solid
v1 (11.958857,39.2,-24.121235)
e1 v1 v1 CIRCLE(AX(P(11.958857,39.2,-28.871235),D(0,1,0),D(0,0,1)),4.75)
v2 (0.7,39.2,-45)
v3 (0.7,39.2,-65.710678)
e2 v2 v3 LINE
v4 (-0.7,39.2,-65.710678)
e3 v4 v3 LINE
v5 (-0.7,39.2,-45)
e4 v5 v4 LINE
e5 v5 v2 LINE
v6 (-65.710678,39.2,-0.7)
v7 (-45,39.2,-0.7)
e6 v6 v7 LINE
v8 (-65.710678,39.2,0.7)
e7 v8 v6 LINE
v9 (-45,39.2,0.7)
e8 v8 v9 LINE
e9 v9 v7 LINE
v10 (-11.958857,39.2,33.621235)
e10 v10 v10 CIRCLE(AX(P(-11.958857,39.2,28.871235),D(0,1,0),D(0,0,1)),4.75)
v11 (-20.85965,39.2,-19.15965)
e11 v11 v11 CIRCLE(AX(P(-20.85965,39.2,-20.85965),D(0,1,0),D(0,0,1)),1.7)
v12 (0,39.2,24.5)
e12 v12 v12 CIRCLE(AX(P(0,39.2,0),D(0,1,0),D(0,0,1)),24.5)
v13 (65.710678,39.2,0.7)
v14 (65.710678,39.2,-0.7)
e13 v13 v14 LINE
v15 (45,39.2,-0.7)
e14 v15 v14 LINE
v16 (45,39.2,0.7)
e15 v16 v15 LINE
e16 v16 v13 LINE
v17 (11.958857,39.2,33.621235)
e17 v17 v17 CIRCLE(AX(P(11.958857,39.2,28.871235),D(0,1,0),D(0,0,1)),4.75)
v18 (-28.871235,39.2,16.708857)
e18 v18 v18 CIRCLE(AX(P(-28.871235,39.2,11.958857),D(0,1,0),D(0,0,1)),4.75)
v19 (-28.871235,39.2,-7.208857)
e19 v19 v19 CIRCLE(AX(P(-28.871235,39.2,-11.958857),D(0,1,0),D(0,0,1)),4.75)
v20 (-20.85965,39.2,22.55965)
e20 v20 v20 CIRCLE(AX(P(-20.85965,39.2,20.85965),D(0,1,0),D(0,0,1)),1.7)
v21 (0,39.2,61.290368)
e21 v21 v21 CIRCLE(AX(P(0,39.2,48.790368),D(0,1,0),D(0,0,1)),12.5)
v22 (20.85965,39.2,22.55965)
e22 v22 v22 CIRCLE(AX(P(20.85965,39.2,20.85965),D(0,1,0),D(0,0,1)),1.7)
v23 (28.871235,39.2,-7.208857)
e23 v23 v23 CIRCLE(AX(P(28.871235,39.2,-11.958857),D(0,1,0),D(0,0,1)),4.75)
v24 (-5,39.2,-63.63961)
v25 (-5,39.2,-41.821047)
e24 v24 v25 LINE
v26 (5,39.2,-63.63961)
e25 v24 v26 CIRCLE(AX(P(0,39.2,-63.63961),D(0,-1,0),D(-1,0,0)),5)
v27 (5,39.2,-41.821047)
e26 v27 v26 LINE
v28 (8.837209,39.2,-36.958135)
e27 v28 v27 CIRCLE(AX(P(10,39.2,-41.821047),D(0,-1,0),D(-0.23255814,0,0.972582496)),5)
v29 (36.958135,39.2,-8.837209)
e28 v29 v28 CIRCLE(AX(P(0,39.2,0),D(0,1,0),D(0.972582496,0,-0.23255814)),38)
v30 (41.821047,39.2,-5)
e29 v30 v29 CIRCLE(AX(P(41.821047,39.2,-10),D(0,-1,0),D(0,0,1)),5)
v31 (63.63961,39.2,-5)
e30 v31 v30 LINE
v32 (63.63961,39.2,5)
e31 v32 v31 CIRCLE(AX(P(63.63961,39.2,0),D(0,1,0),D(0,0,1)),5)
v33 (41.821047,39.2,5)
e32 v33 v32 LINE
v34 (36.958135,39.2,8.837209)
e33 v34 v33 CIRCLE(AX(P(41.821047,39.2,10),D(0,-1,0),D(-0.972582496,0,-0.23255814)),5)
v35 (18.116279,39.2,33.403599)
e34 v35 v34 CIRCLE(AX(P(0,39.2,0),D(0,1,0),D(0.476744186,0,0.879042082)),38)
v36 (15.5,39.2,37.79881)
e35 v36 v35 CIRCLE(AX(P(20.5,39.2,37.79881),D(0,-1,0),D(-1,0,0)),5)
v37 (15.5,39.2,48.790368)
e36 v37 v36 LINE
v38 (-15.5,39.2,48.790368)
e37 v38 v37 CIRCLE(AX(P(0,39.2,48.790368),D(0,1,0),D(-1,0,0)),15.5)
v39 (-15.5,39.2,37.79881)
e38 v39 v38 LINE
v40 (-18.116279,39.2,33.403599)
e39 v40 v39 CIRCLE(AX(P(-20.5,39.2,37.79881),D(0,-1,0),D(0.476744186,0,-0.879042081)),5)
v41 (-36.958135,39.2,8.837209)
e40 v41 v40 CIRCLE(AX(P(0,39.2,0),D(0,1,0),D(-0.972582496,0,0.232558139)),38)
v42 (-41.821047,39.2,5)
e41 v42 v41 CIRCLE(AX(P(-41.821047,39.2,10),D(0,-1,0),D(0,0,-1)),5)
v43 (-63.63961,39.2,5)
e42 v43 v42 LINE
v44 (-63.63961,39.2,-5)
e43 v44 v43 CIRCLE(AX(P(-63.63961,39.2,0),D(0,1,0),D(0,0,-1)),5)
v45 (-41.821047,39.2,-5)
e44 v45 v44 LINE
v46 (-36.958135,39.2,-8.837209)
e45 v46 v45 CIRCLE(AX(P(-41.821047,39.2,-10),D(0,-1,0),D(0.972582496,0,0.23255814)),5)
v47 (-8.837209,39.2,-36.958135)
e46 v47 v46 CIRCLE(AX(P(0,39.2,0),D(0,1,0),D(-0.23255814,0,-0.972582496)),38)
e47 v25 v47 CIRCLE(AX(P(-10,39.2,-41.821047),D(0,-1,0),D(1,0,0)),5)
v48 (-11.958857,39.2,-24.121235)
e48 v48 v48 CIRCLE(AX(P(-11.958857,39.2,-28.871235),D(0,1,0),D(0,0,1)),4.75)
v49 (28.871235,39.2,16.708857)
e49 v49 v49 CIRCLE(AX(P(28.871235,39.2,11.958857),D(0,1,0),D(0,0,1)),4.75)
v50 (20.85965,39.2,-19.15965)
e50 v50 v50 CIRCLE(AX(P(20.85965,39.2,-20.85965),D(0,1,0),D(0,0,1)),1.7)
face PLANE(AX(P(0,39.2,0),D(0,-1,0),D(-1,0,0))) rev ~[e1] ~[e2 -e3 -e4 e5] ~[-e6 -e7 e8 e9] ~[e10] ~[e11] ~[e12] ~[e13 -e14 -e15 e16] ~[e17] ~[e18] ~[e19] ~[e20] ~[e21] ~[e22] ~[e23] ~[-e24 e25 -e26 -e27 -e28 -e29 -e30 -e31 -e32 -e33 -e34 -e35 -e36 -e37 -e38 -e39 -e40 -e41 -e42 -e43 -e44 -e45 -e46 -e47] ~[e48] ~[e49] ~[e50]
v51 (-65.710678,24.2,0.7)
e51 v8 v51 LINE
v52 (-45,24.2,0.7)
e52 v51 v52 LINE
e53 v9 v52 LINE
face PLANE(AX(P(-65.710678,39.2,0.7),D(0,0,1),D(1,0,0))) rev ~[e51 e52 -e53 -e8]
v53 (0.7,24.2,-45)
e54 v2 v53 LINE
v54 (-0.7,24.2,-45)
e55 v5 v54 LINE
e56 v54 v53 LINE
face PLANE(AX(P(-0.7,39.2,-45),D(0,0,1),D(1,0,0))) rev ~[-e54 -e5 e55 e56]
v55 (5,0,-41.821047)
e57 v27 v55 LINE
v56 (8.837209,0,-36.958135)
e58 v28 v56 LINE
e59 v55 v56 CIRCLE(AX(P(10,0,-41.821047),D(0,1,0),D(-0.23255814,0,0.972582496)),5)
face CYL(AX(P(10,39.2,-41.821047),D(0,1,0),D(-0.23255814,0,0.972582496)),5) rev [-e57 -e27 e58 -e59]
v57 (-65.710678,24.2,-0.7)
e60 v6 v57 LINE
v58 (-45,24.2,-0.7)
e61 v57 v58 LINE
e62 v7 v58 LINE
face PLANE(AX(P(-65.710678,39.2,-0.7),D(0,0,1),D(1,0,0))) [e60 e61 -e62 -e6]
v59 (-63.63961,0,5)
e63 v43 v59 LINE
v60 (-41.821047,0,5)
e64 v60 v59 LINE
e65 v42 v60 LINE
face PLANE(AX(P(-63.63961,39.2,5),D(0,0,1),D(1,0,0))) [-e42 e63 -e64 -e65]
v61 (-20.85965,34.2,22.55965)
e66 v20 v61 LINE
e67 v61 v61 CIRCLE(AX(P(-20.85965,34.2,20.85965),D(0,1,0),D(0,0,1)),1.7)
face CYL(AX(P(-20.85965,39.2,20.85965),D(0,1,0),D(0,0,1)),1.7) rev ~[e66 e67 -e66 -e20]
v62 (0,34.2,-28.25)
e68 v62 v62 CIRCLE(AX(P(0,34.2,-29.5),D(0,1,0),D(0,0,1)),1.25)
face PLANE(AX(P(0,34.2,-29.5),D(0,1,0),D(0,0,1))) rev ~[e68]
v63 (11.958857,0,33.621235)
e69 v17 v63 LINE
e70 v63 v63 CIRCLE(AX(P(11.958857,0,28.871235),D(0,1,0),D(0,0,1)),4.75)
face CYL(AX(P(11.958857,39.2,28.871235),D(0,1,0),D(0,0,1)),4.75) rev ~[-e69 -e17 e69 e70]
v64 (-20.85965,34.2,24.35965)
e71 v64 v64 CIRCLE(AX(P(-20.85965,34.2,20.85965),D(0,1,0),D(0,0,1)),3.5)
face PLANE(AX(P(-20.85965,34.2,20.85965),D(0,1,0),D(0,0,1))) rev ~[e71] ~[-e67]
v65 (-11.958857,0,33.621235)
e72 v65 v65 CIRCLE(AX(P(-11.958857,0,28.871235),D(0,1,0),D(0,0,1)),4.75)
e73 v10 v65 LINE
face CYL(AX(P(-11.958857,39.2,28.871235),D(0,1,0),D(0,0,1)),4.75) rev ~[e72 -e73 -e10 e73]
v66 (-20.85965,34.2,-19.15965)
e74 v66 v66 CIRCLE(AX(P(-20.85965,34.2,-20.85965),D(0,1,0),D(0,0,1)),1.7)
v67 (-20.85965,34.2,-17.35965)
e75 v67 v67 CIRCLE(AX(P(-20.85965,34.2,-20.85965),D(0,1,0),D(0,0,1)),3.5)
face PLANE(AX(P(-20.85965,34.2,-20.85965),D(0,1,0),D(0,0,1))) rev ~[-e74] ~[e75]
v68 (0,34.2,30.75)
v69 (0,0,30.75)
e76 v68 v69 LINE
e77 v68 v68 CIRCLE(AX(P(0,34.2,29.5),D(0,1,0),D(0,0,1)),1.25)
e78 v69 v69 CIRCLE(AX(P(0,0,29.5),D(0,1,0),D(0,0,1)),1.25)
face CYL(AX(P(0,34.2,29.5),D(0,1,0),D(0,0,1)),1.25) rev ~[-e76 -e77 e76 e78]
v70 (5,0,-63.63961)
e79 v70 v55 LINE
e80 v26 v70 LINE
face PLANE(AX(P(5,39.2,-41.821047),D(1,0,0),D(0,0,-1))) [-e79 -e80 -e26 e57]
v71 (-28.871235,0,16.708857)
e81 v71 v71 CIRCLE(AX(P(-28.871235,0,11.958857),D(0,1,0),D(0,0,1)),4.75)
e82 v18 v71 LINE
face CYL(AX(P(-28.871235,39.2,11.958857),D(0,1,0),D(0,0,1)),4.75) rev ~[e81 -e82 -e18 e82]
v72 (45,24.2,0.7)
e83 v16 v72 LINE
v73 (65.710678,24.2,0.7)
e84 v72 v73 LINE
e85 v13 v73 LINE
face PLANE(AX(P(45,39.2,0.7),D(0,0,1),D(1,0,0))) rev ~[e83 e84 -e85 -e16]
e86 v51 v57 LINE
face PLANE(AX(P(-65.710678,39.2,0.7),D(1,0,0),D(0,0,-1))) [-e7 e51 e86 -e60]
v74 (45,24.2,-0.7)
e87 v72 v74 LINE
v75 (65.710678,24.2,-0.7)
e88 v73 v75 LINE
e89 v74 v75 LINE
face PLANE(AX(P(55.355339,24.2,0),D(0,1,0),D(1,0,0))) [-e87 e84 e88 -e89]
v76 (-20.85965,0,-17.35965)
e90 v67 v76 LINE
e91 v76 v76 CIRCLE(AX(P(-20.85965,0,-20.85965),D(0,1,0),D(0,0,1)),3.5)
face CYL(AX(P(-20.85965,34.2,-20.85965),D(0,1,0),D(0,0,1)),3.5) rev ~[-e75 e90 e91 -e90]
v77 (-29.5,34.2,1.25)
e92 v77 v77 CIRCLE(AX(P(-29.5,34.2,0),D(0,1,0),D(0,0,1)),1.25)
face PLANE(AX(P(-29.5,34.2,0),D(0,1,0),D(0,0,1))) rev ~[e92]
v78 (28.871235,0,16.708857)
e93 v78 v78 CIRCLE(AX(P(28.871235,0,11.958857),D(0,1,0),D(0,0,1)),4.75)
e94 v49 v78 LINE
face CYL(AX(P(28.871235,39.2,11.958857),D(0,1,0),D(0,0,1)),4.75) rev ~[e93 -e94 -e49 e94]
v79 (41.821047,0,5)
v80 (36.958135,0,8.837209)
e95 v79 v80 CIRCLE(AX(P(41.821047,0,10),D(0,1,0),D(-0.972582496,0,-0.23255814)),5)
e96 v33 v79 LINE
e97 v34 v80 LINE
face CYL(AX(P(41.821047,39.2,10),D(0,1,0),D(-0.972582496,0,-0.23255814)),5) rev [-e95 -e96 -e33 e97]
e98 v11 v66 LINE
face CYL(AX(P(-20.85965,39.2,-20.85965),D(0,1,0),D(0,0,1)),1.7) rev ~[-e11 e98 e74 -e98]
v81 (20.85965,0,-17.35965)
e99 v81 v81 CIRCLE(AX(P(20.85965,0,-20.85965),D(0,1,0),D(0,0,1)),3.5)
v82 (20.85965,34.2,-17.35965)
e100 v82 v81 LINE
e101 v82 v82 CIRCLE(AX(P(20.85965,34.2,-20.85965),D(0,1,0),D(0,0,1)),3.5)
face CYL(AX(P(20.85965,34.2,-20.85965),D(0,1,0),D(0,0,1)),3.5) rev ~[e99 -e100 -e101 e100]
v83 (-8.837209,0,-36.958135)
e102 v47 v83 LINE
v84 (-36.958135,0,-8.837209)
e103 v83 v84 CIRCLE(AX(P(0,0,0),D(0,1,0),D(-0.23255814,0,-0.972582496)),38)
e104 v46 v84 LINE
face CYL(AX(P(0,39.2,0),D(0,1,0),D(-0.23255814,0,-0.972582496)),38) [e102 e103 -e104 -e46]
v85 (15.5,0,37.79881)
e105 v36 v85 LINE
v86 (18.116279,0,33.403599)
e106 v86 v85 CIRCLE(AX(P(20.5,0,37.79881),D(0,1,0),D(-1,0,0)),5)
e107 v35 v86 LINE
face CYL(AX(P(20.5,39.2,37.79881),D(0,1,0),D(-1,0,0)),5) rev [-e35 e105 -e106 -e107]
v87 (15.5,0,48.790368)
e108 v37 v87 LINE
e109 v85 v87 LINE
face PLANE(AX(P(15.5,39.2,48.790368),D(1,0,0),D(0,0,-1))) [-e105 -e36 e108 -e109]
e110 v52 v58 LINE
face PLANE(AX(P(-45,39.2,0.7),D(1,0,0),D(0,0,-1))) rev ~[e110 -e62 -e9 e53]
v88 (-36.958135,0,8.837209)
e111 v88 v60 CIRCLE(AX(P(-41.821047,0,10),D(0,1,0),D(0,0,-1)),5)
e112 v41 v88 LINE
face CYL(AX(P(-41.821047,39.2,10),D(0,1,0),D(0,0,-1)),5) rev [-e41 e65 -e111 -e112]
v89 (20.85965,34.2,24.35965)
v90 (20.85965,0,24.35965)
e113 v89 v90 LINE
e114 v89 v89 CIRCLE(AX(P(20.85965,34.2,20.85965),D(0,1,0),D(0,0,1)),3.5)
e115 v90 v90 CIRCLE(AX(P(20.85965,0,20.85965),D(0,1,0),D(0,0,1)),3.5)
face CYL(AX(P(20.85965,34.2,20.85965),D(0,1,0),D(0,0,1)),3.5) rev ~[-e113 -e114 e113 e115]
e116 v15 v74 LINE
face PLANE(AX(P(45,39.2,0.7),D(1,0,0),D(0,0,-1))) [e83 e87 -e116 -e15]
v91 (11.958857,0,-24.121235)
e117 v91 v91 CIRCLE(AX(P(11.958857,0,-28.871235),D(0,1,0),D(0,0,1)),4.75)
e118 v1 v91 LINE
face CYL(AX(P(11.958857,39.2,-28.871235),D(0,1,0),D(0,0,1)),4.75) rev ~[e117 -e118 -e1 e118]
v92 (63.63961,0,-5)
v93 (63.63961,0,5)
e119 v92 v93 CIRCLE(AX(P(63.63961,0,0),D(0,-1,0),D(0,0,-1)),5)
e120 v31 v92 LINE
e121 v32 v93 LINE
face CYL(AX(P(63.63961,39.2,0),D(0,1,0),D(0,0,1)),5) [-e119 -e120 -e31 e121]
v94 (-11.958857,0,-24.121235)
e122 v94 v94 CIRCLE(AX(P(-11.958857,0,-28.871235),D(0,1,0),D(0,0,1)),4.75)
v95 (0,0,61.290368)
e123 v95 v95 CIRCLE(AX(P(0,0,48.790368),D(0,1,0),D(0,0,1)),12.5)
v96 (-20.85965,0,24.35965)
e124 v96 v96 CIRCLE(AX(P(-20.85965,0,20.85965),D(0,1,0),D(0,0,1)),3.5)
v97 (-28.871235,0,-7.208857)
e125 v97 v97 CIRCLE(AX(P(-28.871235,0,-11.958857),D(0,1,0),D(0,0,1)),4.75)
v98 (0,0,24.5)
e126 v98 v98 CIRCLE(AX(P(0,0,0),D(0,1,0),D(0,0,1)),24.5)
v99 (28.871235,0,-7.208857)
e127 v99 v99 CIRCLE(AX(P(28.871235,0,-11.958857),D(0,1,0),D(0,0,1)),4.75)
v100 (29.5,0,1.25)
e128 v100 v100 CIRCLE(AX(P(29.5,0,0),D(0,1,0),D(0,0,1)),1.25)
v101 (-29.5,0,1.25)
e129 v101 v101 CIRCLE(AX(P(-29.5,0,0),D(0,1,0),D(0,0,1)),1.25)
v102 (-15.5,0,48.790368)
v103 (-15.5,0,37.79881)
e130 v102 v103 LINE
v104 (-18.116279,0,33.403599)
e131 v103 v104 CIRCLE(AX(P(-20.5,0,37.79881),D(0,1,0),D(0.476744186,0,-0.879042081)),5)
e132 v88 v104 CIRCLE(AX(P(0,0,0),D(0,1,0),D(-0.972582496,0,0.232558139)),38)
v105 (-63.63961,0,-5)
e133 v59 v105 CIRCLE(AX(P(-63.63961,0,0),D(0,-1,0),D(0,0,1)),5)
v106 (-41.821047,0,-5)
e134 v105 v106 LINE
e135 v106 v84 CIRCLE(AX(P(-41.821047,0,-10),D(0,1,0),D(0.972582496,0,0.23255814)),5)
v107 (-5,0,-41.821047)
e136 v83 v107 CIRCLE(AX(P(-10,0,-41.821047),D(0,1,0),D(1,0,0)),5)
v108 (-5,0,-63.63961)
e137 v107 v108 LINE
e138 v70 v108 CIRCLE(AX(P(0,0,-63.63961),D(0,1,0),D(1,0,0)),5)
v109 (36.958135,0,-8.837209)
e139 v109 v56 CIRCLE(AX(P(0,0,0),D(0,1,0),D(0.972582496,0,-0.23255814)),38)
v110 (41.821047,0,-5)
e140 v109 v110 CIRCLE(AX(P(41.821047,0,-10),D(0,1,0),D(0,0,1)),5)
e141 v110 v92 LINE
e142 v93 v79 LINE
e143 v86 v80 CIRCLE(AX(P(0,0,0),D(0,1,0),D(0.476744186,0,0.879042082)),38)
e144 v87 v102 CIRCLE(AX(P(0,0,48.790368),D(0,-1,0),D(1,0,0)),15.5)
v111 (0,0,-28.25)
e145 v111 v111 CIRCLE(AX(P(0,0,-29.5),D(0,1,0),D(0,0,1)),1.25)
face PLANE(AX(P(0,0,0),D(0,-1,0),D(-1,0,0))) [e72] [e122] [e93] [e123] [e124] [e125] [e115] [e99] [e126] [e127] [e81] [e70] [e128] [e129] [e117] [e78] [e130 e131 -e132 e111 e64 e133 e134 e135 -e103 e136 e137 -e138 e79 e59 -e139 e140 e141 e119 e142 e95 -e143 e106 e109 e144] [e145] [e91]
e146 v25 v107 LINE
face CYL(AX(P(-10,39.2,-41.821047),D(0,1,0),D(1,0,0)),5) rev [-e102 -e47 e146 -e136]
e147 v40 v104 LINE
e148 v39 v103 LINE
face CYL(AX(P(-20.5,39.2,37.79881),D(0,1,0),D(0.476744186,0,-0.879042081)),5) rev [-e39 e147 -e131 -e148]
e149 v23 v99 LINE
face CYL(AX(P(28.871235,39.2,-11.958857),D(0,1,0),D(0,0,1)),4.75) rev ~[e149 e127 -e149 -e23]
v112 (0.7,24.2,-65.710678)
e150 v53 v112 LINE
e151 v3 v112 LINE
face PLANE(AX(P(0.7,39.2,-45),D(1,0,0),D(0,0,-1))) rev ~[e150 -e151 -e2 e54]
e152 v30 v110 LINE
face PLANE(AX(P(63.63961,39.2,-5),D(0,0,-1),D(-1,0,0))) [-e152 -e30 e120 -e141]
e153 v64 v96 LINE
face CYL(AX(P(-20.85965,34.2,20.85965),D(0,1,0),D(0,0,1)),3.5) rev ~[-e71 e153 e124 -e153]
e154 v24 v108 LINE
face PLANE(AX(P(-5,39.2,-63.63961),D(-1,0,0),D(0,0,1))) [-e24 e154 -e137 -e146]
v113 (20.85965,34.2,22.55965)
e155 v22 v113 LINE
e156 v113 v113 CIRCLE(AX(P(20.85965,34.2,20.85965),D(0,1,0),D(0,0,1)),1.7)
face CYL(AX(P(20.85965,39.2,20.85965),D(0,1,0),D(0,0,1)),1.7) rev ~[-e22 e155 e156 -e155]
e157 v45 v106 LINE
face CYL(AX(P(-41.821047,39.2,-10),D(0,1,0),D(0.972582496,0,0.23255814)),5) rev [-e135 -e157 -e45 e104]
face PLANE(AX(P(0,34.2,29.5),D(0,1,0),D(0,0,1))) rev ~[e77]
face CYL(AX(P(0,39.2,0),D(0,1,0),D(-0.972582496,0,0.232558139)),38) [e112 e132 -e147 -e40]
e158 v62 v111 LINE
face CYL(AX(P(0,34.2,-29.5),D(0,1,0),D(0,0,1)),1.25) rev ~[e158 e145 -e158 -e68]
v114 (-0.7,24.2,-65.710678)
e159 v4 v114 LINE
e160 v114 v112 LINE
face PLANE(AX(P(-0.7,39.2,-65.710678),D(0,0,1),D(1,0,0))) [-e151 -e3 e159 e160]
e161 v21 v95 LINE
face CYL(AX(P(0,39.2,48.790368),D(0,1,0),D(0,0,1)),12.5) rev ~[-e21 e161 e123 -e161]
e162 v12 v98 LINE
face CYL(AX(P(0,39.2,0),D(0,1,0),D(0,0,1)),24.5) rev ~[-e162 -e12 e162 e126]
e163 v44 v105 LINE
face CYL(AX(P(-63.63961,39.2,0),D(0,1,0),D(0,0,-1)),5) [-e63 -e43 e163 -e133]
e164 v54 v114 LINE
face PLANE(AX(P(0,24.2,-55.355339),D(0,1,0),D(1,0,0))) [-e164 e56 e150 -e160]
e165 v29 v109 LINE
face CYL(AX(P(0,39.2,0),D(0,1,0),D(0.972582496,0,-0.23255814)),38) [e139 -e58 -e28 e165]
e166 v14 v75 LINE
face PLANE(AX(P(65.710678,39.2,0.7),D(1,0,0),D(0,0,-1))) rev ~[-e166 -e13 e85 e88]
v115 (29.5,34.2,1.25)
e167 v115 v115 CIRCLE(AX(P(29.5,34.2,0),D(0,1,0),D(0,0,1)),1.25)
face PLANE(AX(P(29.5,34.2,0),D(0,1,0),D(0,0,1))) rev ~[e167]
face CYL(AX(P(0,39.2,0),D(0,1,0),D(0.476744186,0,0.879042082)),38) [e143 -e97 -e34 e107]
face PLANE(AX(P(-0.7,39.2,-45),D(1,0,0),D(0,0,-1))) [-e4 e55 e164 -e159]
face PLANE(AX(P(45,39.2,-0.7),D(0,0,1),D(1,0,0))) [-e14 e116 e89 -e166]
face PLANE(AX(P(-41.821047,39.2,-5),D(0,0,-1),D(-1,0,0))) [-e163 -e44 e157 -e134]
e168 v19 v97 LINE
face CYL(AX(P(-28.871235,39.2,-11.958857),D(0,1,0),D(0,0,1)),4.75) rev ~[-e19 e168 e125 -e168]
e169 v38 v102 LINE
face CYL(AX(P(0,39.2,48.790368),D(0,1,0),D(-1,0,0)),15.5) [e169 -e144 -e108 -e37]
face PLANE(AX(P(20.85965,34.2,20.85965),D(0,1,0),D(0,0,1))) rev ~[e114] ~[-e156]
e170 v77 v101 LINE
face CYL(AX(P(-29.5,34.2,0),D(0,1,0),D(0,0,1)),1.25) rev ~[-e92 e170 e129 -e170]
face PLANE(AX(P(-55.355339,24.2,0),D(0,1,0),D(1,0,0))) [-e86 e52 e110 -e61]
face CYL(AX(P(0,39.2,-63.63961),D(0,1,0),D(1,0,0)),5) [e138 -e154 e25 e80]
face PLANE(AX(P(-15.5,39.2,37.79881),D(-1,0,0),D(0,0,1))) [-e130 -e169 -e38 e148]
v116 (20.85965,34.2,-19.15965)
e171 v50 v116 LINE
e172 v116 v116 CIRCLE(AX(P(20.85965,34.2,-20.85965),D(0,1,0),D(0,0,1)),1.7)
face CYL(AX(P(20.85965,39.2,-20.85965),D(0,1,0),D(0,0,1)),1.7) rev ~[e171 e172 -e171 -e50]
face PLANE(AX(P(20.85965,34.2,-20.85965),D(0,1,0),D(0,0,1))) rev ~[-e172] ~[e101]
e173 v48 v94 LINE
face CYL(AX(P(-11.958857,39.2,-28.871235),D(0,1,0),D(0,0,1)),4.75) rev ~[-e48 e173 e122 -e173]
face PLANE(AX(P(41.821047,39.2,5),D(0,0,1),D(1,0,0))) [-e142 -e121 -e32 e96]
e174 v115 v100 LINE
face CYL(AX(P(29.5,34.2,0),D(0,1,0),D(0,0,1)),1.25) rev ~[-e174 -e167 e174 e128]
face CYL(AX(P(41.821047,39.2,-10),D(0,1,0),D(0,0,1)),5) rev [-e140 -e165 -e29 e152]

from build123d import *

# Parameters (mm, degrees)
BOSS_EXTRU_1_DEPTH      = 39.2
ESQUISSE2_W             = 20.710678119
ESQUISSE2_H             = 1.4
ESQUISSE2_W_2           = 1.4
ESQUISSE2_H_2           = 20.710678119
ENL_V_MAT_EXTRU_1_DEPTH = 15
ESQUISSE3_R             = 1.7
ENL_V_MAT_EXTRU_2_DEPTH = 108.408751971
ENL_V_START             = -5
ESQUISSE4_R             = 3.5
ENL_V_MAT_EXTRU_3_DEPTH = 103.408751971
ESQUISSE5_R             = 1.25
ENL_V_MAT_EXTRU_4_DEPTH = 103.408751971
ESQUISSE6_R             = 12.5
ENL_V_MAT_EXTRU_5_DEPTH = 108.408751971
ESQUISSE7_OUTSIDE_W     = 184.184
ESQUISSE7_OUTSIDE_H     = 184.184
ESQUISSE7_OUTSIDE_R     = 24.5
ESQUISSE7_OUTSIDE_R_2   = 4.75
ENL_V_MAT_EXTRU_6_DEPTH = 108.408751971


with BuildPart() as part:
    # Esquisse1 → Boss.-Extru.1 (new body)
    with BuildSketch(Plane(origin=(0, 0, 0), x_dir=(1, 0, 0), z_dir=(0, 1, 0))):
        Polygon((0, 70.710678119), (70.710678119, 0), (0, -70.710678119), (-70.710678119, 0), align=None)
    extrude(amount=BOSS_EXTRU_1_DEPTH)

    # Esquisse2 → Enlèv. mat.-Extru.1 (cut)
    with BuildSketch(Plane(origin=(0, 39.2, 0), x_dir=(1, 0, 0), z_dir=(0, 1, 0))):
        with Locations((55.35533906, 0)):
            Rectangle(ESQUISSE2_W, ESQUISSE2_H)
        with Locations((0, 55.35533906)):
            Rectangle(ESQUISSE2_W_2, ESQUISSE2_H_2)
        with Locations((-55.35533906, 0)):
            Rectangle(ESQUISSE2_W, ESQUISSE2_H)
    extrude(amount=-ENL_V_MAT_EXTRU_1_DEPTH, mode=Mode.SUBTRACT)

    # Esquisse3 → Enlèv. mat.-Extru.2 (cut, through all)
    with BuildSketch(Plane(origin=(0, 39.2, 0), x_dir=(1, 0, 0), z_dir=(0, 1, 0))):
        with Locations(Location((20.859650045, 20.859650045, 0), (0, 0, 270))):
            Circle(ESQUISSE3_R)
        with Locations(Location((20.859650045, -20.859650045, 0), (0, 0, 270))):
            Circle(ESQUISSE3_R)
        with Locations(Location((-20.859650045, 20.859650045, 0), (0, 0, 270))):
            Circle(ESQUISSE3_R)
        with Locations(Location((-20.859650045, -20.859650045, 0), (0, 0, 270))):
            Circle(ESQUISSE3_R)
    extrude(amount=-ENL_V_MAT_EXTRU_2_DEPTH, mode=Mode.SUBTRACT)

    # Esquisse4 → Enlèv. mat.-Extru.3 (cut, through all)
    with BuildSketch(Plane(origin=(0, 39.2, 0), x_dir=(1, 0, 0), z_dir=(0, 1, 0)).offset(ENL_V_START)):
        with Locations(Location((20.859650045, 20.859650045, 0), (0, 0, 270))):
            Circle(ESQUISSE4_R)
        with Locations(Location((20.859650045, -20.859650045, 0), (0, 0, 270))):
            Circle(ESQUISSE4_R)
        with Locations(Location((-20.859650045, 20.859650045, 0), (0, 0, 270))):
            Circle(ESQUISSE4_R)
        with Locations(Location((-20.859650045, -20.859650045, 0), (0, 0, 270))):
            Circle(ESQUISSE4_R)
    extrude(amount=-ENL_V_MAT_EXTRU_3_DEPTH, mode=Mode.SUBTRACT)

    # Esquisse5 → Enlèv. mat.-Extru.4 (cut, through all)
    with BuildSketch(Plane(origin=(0, 39.2, 0), x_dir=(1, 0, 0), z_dir=(0, 1, 0)).offset(ENL_V_START)):
        with Locations(Location((29.5, 0, 0), (0, 0, 270))):
            Circle(ESQUISSE5_R)
        with Locations(Location((-29.5, 0, 0), (0, 0, 270))):
            Circle(ESQUISSE5_R)
        with Locations(Location((0, -29.5, 0), (0, 0, 270))):
            Circle(ESQUISSE5_R)
        with Locations(Location((0, 29.5, 0), (0, 0, 270))):
            Circle(ESQUISSE5_R)
    extrude(amount=-ENL_V_MAT_EXTRU_4_DEPTH, mode=Mode.SUBTRACT)

    # Esquisse6 → Enlèv. mat.-Extru.5 (cut, through all)
    with BuildSketch(Plane(origin=(0, 39.2, 0), x_dir=(1, 0, 0), z_dir=(0, 1, 0))):
        with Locations(Location((0, -48.790367902, 0), (0, 0, 270))):
            Circle(ESQUISSE6_R)
    extrude(amount=-ENL_V_MAT_EXTRU_5_DEPTH, mode=Mode.SUBTRACT)

    # Esquisse7 outside → Enlèv. mat.-Extru.6 (cut, through all)
    # profile 1 of 10: a face of its own
    with BuildSketch(Plane(origin=(0, 39.2, 0), x_dir=(1, 0, 0), z_dir=(0, 1, 0))):
        Rectangle(ESQUISSE7_OUTSIDE_W, ESQUISSE7_OUTSIDE_H)
        with BuildLine():
            Line((5, 41.821047333), (5, 63.639610307))
            ThreePointArc((5, 63.639610307), (0, 68.639610307), (-5, 63.639610307))
            Line((-5, 63.639610307), (-5, 41.821047333))
            ThreePointArc((-5, 41.821047333), (-6.074827807, 38.723786728), (-8.837209302, 36.958134852))
            ThreePointArc((-8.837209302, 36.958134852), (-26.870057685, 26.870057685), (-36.958134852, 8.837209302))
            ThreePointArc((-36.958134852, 8.837209302), (-38.723786728, 6.074827807), (-41.821047333, 5))
            Line((-41.821047333, 5), (-63.639610307, 5))
            ThreePointArc((-63.639610307, 5), (-68.639610307, 0), (-63.639610307, -5))
            Line((-63.639610307, -5), (-41.821047333, -5))
            ThreePointArc((-41.821047333, -5), (-38.723786728, -6.074827807), (-36.958134852, -8.837209302))
            ThreePointArc((-36.958134852, -8.837209302), (-30.152523014, -23.126291443), (-18.11627907, -33.403599097))
            ThreePointArc((-18.11627907, -33.403599097), (-16.20357098, -35.241330732), (-15.5, -37.798809505))
            Line((-15.5, -37.798809505), (-15.5, -48.790367902))
            ThreePointArc((-15.5, -48.790367902), (0, -64.290367902), (15.5, -48.790367902))
            Line((15.5, -48.790367902), (15.5, -37.798809505))
            ThreePointArc((15.5, -37.798809505), (16.20357098, -35.241330732), (18.11627907, -33.403599097))
            ThreePointArc((18.11627907, -33.403599097), (30.152523014, -23.126291443), (36.958134852, -8.837209302))
            ThreePointArc((36.958134852, -8.837209302), (38.723786728, -6.074827807), (41.821047333, -5))
            Line((41.821047333, -5), (63.639610307, -5))
            ThreePointArc((63.639610307, -5), (68.639610307, 0), (63.639610307, 5))
            Line((63.639610307, 5), (41.821047333, 5))
            ThreePointArc((41.821047333, 5), (38.723786728, 6.074827807), (36.958134852, 8.837209302))
            ThreePointArc((36.958134852, 8.837209302), (26.870057685, 26.870057685), (8.837209302, 36.958134852))
            ThreePointArc((8.837209302, 36.958134852), (6.074827807, 38.723786728), (5, 41.821047333))
        make_face(mode=Mode.SUBTRACT)
    # profile 2 of 10: a face of its own
    with BuildSketch(Plane(origin=(0, 39.2, 0), x_dir=(1, 0, 0), z_dir=(0, 1, 0))):
        with Locations(Location((0, 0, 0), (0, 0, 270))):
            Circle(ESQUISSE7_OUTSIDE_R)
    # profile 3 of 10: a face of its own
    with BuildSketch(Plane(origin=(0, 39.2, 0), x_dir=(1, 0, 0), z_dir=(0, 1, 0))):
        with Locations(Location((11.958857261, 28.871235391, 0), (0, 0, 270))):
            Circle(ESQUISSE7_OUTSIDE_R_2)
    # profile 4 of 10: a face of its own
    with BuildSketch(Plane(origin=(0, 39.2, 0), x_dir=(1, 0, 0), z_dir=(0, 1, 0))):
        with Locations(Location((28.871235391, 11.958857261, 0), (0, 0, 270))):
            Circle(ESQUISSE7_OUTSIDE_R_2)
    # profile 5 of 10: a face of its own
    with BuildSketch(Plane(origin=(0, 39.2, 0), x_dir=(1, 0, 0), z_dir=(0, 1, 0))):
        with Locations(Location((28.871235391, -11.958857261, 0), (0, 0, 270))):
            Circle(ESQUISSE7_OUTSIDE_R_2)
    # profile 6 of 10: a face of its own
    with BuildSketch(Plane(origin=(0, 39.2, 0), x_dir=(1, 0, 0), z_dir=(0, 1, 0))):
        with Locations(Location((11.958857261, -28.871235391, 0), (0, 0, 270))):
            Circle(ESQUISSE7_OUTSIDE_R_2)
    # profile 7 of 10: a face of its own
    with BuildSketch(Plane(origin=(0, 39.2, 0), x_dir=(1, 0, 0), z_dir=(0, 1, 0))):
        with Locations(Location((-11.958857261, -28.871235391, 0), (0, 0, 270))):
            Circle(ESQUISSE7_OUTSIDE_R_2)
    # profile 8 of 10: a face of its own
    with BuildSketch(Plane(origin=(0, 39.2, 0), x_dir=(1, 0, 0), z_dir=(0, 1, 0))):
        with Locations(Location((-28.871235391, -11.958857261, 0), (0, 0, 270))):
            Circle(ESQUISSE7_OUTSIDE_R_2)
    # profile 9 of 10: a face of its own
    with BuildSketch(Plane(origin=(0, 39.2, 0), x_dir=(1, 0, 0), z_dir=(0, 1, 0))):
        with Locations(Location((-28.871235391, 11.958857261, 0), (0, 0, 270))):
            Circle(ESQUISSE7_OUTSIDE_R_2)
    # profile 10 of 10: a face of its own
    with BuildSketch(Plane(origin=(0, 39.2, 0), x_dir=(1, 0, 0), z_dir=(0, 1, 0))):
        with Locations(Location((-11.958857261, 28.871235391, 0), (0, 0, 270))):
            Circle(ESQUISSE7_OUTSIDE_R_2)
    extrude(amount=-ENL_V_MAT_EXTRU_6_DEPTH, mode=Mode.SUBTRACT)


solid = part.part
